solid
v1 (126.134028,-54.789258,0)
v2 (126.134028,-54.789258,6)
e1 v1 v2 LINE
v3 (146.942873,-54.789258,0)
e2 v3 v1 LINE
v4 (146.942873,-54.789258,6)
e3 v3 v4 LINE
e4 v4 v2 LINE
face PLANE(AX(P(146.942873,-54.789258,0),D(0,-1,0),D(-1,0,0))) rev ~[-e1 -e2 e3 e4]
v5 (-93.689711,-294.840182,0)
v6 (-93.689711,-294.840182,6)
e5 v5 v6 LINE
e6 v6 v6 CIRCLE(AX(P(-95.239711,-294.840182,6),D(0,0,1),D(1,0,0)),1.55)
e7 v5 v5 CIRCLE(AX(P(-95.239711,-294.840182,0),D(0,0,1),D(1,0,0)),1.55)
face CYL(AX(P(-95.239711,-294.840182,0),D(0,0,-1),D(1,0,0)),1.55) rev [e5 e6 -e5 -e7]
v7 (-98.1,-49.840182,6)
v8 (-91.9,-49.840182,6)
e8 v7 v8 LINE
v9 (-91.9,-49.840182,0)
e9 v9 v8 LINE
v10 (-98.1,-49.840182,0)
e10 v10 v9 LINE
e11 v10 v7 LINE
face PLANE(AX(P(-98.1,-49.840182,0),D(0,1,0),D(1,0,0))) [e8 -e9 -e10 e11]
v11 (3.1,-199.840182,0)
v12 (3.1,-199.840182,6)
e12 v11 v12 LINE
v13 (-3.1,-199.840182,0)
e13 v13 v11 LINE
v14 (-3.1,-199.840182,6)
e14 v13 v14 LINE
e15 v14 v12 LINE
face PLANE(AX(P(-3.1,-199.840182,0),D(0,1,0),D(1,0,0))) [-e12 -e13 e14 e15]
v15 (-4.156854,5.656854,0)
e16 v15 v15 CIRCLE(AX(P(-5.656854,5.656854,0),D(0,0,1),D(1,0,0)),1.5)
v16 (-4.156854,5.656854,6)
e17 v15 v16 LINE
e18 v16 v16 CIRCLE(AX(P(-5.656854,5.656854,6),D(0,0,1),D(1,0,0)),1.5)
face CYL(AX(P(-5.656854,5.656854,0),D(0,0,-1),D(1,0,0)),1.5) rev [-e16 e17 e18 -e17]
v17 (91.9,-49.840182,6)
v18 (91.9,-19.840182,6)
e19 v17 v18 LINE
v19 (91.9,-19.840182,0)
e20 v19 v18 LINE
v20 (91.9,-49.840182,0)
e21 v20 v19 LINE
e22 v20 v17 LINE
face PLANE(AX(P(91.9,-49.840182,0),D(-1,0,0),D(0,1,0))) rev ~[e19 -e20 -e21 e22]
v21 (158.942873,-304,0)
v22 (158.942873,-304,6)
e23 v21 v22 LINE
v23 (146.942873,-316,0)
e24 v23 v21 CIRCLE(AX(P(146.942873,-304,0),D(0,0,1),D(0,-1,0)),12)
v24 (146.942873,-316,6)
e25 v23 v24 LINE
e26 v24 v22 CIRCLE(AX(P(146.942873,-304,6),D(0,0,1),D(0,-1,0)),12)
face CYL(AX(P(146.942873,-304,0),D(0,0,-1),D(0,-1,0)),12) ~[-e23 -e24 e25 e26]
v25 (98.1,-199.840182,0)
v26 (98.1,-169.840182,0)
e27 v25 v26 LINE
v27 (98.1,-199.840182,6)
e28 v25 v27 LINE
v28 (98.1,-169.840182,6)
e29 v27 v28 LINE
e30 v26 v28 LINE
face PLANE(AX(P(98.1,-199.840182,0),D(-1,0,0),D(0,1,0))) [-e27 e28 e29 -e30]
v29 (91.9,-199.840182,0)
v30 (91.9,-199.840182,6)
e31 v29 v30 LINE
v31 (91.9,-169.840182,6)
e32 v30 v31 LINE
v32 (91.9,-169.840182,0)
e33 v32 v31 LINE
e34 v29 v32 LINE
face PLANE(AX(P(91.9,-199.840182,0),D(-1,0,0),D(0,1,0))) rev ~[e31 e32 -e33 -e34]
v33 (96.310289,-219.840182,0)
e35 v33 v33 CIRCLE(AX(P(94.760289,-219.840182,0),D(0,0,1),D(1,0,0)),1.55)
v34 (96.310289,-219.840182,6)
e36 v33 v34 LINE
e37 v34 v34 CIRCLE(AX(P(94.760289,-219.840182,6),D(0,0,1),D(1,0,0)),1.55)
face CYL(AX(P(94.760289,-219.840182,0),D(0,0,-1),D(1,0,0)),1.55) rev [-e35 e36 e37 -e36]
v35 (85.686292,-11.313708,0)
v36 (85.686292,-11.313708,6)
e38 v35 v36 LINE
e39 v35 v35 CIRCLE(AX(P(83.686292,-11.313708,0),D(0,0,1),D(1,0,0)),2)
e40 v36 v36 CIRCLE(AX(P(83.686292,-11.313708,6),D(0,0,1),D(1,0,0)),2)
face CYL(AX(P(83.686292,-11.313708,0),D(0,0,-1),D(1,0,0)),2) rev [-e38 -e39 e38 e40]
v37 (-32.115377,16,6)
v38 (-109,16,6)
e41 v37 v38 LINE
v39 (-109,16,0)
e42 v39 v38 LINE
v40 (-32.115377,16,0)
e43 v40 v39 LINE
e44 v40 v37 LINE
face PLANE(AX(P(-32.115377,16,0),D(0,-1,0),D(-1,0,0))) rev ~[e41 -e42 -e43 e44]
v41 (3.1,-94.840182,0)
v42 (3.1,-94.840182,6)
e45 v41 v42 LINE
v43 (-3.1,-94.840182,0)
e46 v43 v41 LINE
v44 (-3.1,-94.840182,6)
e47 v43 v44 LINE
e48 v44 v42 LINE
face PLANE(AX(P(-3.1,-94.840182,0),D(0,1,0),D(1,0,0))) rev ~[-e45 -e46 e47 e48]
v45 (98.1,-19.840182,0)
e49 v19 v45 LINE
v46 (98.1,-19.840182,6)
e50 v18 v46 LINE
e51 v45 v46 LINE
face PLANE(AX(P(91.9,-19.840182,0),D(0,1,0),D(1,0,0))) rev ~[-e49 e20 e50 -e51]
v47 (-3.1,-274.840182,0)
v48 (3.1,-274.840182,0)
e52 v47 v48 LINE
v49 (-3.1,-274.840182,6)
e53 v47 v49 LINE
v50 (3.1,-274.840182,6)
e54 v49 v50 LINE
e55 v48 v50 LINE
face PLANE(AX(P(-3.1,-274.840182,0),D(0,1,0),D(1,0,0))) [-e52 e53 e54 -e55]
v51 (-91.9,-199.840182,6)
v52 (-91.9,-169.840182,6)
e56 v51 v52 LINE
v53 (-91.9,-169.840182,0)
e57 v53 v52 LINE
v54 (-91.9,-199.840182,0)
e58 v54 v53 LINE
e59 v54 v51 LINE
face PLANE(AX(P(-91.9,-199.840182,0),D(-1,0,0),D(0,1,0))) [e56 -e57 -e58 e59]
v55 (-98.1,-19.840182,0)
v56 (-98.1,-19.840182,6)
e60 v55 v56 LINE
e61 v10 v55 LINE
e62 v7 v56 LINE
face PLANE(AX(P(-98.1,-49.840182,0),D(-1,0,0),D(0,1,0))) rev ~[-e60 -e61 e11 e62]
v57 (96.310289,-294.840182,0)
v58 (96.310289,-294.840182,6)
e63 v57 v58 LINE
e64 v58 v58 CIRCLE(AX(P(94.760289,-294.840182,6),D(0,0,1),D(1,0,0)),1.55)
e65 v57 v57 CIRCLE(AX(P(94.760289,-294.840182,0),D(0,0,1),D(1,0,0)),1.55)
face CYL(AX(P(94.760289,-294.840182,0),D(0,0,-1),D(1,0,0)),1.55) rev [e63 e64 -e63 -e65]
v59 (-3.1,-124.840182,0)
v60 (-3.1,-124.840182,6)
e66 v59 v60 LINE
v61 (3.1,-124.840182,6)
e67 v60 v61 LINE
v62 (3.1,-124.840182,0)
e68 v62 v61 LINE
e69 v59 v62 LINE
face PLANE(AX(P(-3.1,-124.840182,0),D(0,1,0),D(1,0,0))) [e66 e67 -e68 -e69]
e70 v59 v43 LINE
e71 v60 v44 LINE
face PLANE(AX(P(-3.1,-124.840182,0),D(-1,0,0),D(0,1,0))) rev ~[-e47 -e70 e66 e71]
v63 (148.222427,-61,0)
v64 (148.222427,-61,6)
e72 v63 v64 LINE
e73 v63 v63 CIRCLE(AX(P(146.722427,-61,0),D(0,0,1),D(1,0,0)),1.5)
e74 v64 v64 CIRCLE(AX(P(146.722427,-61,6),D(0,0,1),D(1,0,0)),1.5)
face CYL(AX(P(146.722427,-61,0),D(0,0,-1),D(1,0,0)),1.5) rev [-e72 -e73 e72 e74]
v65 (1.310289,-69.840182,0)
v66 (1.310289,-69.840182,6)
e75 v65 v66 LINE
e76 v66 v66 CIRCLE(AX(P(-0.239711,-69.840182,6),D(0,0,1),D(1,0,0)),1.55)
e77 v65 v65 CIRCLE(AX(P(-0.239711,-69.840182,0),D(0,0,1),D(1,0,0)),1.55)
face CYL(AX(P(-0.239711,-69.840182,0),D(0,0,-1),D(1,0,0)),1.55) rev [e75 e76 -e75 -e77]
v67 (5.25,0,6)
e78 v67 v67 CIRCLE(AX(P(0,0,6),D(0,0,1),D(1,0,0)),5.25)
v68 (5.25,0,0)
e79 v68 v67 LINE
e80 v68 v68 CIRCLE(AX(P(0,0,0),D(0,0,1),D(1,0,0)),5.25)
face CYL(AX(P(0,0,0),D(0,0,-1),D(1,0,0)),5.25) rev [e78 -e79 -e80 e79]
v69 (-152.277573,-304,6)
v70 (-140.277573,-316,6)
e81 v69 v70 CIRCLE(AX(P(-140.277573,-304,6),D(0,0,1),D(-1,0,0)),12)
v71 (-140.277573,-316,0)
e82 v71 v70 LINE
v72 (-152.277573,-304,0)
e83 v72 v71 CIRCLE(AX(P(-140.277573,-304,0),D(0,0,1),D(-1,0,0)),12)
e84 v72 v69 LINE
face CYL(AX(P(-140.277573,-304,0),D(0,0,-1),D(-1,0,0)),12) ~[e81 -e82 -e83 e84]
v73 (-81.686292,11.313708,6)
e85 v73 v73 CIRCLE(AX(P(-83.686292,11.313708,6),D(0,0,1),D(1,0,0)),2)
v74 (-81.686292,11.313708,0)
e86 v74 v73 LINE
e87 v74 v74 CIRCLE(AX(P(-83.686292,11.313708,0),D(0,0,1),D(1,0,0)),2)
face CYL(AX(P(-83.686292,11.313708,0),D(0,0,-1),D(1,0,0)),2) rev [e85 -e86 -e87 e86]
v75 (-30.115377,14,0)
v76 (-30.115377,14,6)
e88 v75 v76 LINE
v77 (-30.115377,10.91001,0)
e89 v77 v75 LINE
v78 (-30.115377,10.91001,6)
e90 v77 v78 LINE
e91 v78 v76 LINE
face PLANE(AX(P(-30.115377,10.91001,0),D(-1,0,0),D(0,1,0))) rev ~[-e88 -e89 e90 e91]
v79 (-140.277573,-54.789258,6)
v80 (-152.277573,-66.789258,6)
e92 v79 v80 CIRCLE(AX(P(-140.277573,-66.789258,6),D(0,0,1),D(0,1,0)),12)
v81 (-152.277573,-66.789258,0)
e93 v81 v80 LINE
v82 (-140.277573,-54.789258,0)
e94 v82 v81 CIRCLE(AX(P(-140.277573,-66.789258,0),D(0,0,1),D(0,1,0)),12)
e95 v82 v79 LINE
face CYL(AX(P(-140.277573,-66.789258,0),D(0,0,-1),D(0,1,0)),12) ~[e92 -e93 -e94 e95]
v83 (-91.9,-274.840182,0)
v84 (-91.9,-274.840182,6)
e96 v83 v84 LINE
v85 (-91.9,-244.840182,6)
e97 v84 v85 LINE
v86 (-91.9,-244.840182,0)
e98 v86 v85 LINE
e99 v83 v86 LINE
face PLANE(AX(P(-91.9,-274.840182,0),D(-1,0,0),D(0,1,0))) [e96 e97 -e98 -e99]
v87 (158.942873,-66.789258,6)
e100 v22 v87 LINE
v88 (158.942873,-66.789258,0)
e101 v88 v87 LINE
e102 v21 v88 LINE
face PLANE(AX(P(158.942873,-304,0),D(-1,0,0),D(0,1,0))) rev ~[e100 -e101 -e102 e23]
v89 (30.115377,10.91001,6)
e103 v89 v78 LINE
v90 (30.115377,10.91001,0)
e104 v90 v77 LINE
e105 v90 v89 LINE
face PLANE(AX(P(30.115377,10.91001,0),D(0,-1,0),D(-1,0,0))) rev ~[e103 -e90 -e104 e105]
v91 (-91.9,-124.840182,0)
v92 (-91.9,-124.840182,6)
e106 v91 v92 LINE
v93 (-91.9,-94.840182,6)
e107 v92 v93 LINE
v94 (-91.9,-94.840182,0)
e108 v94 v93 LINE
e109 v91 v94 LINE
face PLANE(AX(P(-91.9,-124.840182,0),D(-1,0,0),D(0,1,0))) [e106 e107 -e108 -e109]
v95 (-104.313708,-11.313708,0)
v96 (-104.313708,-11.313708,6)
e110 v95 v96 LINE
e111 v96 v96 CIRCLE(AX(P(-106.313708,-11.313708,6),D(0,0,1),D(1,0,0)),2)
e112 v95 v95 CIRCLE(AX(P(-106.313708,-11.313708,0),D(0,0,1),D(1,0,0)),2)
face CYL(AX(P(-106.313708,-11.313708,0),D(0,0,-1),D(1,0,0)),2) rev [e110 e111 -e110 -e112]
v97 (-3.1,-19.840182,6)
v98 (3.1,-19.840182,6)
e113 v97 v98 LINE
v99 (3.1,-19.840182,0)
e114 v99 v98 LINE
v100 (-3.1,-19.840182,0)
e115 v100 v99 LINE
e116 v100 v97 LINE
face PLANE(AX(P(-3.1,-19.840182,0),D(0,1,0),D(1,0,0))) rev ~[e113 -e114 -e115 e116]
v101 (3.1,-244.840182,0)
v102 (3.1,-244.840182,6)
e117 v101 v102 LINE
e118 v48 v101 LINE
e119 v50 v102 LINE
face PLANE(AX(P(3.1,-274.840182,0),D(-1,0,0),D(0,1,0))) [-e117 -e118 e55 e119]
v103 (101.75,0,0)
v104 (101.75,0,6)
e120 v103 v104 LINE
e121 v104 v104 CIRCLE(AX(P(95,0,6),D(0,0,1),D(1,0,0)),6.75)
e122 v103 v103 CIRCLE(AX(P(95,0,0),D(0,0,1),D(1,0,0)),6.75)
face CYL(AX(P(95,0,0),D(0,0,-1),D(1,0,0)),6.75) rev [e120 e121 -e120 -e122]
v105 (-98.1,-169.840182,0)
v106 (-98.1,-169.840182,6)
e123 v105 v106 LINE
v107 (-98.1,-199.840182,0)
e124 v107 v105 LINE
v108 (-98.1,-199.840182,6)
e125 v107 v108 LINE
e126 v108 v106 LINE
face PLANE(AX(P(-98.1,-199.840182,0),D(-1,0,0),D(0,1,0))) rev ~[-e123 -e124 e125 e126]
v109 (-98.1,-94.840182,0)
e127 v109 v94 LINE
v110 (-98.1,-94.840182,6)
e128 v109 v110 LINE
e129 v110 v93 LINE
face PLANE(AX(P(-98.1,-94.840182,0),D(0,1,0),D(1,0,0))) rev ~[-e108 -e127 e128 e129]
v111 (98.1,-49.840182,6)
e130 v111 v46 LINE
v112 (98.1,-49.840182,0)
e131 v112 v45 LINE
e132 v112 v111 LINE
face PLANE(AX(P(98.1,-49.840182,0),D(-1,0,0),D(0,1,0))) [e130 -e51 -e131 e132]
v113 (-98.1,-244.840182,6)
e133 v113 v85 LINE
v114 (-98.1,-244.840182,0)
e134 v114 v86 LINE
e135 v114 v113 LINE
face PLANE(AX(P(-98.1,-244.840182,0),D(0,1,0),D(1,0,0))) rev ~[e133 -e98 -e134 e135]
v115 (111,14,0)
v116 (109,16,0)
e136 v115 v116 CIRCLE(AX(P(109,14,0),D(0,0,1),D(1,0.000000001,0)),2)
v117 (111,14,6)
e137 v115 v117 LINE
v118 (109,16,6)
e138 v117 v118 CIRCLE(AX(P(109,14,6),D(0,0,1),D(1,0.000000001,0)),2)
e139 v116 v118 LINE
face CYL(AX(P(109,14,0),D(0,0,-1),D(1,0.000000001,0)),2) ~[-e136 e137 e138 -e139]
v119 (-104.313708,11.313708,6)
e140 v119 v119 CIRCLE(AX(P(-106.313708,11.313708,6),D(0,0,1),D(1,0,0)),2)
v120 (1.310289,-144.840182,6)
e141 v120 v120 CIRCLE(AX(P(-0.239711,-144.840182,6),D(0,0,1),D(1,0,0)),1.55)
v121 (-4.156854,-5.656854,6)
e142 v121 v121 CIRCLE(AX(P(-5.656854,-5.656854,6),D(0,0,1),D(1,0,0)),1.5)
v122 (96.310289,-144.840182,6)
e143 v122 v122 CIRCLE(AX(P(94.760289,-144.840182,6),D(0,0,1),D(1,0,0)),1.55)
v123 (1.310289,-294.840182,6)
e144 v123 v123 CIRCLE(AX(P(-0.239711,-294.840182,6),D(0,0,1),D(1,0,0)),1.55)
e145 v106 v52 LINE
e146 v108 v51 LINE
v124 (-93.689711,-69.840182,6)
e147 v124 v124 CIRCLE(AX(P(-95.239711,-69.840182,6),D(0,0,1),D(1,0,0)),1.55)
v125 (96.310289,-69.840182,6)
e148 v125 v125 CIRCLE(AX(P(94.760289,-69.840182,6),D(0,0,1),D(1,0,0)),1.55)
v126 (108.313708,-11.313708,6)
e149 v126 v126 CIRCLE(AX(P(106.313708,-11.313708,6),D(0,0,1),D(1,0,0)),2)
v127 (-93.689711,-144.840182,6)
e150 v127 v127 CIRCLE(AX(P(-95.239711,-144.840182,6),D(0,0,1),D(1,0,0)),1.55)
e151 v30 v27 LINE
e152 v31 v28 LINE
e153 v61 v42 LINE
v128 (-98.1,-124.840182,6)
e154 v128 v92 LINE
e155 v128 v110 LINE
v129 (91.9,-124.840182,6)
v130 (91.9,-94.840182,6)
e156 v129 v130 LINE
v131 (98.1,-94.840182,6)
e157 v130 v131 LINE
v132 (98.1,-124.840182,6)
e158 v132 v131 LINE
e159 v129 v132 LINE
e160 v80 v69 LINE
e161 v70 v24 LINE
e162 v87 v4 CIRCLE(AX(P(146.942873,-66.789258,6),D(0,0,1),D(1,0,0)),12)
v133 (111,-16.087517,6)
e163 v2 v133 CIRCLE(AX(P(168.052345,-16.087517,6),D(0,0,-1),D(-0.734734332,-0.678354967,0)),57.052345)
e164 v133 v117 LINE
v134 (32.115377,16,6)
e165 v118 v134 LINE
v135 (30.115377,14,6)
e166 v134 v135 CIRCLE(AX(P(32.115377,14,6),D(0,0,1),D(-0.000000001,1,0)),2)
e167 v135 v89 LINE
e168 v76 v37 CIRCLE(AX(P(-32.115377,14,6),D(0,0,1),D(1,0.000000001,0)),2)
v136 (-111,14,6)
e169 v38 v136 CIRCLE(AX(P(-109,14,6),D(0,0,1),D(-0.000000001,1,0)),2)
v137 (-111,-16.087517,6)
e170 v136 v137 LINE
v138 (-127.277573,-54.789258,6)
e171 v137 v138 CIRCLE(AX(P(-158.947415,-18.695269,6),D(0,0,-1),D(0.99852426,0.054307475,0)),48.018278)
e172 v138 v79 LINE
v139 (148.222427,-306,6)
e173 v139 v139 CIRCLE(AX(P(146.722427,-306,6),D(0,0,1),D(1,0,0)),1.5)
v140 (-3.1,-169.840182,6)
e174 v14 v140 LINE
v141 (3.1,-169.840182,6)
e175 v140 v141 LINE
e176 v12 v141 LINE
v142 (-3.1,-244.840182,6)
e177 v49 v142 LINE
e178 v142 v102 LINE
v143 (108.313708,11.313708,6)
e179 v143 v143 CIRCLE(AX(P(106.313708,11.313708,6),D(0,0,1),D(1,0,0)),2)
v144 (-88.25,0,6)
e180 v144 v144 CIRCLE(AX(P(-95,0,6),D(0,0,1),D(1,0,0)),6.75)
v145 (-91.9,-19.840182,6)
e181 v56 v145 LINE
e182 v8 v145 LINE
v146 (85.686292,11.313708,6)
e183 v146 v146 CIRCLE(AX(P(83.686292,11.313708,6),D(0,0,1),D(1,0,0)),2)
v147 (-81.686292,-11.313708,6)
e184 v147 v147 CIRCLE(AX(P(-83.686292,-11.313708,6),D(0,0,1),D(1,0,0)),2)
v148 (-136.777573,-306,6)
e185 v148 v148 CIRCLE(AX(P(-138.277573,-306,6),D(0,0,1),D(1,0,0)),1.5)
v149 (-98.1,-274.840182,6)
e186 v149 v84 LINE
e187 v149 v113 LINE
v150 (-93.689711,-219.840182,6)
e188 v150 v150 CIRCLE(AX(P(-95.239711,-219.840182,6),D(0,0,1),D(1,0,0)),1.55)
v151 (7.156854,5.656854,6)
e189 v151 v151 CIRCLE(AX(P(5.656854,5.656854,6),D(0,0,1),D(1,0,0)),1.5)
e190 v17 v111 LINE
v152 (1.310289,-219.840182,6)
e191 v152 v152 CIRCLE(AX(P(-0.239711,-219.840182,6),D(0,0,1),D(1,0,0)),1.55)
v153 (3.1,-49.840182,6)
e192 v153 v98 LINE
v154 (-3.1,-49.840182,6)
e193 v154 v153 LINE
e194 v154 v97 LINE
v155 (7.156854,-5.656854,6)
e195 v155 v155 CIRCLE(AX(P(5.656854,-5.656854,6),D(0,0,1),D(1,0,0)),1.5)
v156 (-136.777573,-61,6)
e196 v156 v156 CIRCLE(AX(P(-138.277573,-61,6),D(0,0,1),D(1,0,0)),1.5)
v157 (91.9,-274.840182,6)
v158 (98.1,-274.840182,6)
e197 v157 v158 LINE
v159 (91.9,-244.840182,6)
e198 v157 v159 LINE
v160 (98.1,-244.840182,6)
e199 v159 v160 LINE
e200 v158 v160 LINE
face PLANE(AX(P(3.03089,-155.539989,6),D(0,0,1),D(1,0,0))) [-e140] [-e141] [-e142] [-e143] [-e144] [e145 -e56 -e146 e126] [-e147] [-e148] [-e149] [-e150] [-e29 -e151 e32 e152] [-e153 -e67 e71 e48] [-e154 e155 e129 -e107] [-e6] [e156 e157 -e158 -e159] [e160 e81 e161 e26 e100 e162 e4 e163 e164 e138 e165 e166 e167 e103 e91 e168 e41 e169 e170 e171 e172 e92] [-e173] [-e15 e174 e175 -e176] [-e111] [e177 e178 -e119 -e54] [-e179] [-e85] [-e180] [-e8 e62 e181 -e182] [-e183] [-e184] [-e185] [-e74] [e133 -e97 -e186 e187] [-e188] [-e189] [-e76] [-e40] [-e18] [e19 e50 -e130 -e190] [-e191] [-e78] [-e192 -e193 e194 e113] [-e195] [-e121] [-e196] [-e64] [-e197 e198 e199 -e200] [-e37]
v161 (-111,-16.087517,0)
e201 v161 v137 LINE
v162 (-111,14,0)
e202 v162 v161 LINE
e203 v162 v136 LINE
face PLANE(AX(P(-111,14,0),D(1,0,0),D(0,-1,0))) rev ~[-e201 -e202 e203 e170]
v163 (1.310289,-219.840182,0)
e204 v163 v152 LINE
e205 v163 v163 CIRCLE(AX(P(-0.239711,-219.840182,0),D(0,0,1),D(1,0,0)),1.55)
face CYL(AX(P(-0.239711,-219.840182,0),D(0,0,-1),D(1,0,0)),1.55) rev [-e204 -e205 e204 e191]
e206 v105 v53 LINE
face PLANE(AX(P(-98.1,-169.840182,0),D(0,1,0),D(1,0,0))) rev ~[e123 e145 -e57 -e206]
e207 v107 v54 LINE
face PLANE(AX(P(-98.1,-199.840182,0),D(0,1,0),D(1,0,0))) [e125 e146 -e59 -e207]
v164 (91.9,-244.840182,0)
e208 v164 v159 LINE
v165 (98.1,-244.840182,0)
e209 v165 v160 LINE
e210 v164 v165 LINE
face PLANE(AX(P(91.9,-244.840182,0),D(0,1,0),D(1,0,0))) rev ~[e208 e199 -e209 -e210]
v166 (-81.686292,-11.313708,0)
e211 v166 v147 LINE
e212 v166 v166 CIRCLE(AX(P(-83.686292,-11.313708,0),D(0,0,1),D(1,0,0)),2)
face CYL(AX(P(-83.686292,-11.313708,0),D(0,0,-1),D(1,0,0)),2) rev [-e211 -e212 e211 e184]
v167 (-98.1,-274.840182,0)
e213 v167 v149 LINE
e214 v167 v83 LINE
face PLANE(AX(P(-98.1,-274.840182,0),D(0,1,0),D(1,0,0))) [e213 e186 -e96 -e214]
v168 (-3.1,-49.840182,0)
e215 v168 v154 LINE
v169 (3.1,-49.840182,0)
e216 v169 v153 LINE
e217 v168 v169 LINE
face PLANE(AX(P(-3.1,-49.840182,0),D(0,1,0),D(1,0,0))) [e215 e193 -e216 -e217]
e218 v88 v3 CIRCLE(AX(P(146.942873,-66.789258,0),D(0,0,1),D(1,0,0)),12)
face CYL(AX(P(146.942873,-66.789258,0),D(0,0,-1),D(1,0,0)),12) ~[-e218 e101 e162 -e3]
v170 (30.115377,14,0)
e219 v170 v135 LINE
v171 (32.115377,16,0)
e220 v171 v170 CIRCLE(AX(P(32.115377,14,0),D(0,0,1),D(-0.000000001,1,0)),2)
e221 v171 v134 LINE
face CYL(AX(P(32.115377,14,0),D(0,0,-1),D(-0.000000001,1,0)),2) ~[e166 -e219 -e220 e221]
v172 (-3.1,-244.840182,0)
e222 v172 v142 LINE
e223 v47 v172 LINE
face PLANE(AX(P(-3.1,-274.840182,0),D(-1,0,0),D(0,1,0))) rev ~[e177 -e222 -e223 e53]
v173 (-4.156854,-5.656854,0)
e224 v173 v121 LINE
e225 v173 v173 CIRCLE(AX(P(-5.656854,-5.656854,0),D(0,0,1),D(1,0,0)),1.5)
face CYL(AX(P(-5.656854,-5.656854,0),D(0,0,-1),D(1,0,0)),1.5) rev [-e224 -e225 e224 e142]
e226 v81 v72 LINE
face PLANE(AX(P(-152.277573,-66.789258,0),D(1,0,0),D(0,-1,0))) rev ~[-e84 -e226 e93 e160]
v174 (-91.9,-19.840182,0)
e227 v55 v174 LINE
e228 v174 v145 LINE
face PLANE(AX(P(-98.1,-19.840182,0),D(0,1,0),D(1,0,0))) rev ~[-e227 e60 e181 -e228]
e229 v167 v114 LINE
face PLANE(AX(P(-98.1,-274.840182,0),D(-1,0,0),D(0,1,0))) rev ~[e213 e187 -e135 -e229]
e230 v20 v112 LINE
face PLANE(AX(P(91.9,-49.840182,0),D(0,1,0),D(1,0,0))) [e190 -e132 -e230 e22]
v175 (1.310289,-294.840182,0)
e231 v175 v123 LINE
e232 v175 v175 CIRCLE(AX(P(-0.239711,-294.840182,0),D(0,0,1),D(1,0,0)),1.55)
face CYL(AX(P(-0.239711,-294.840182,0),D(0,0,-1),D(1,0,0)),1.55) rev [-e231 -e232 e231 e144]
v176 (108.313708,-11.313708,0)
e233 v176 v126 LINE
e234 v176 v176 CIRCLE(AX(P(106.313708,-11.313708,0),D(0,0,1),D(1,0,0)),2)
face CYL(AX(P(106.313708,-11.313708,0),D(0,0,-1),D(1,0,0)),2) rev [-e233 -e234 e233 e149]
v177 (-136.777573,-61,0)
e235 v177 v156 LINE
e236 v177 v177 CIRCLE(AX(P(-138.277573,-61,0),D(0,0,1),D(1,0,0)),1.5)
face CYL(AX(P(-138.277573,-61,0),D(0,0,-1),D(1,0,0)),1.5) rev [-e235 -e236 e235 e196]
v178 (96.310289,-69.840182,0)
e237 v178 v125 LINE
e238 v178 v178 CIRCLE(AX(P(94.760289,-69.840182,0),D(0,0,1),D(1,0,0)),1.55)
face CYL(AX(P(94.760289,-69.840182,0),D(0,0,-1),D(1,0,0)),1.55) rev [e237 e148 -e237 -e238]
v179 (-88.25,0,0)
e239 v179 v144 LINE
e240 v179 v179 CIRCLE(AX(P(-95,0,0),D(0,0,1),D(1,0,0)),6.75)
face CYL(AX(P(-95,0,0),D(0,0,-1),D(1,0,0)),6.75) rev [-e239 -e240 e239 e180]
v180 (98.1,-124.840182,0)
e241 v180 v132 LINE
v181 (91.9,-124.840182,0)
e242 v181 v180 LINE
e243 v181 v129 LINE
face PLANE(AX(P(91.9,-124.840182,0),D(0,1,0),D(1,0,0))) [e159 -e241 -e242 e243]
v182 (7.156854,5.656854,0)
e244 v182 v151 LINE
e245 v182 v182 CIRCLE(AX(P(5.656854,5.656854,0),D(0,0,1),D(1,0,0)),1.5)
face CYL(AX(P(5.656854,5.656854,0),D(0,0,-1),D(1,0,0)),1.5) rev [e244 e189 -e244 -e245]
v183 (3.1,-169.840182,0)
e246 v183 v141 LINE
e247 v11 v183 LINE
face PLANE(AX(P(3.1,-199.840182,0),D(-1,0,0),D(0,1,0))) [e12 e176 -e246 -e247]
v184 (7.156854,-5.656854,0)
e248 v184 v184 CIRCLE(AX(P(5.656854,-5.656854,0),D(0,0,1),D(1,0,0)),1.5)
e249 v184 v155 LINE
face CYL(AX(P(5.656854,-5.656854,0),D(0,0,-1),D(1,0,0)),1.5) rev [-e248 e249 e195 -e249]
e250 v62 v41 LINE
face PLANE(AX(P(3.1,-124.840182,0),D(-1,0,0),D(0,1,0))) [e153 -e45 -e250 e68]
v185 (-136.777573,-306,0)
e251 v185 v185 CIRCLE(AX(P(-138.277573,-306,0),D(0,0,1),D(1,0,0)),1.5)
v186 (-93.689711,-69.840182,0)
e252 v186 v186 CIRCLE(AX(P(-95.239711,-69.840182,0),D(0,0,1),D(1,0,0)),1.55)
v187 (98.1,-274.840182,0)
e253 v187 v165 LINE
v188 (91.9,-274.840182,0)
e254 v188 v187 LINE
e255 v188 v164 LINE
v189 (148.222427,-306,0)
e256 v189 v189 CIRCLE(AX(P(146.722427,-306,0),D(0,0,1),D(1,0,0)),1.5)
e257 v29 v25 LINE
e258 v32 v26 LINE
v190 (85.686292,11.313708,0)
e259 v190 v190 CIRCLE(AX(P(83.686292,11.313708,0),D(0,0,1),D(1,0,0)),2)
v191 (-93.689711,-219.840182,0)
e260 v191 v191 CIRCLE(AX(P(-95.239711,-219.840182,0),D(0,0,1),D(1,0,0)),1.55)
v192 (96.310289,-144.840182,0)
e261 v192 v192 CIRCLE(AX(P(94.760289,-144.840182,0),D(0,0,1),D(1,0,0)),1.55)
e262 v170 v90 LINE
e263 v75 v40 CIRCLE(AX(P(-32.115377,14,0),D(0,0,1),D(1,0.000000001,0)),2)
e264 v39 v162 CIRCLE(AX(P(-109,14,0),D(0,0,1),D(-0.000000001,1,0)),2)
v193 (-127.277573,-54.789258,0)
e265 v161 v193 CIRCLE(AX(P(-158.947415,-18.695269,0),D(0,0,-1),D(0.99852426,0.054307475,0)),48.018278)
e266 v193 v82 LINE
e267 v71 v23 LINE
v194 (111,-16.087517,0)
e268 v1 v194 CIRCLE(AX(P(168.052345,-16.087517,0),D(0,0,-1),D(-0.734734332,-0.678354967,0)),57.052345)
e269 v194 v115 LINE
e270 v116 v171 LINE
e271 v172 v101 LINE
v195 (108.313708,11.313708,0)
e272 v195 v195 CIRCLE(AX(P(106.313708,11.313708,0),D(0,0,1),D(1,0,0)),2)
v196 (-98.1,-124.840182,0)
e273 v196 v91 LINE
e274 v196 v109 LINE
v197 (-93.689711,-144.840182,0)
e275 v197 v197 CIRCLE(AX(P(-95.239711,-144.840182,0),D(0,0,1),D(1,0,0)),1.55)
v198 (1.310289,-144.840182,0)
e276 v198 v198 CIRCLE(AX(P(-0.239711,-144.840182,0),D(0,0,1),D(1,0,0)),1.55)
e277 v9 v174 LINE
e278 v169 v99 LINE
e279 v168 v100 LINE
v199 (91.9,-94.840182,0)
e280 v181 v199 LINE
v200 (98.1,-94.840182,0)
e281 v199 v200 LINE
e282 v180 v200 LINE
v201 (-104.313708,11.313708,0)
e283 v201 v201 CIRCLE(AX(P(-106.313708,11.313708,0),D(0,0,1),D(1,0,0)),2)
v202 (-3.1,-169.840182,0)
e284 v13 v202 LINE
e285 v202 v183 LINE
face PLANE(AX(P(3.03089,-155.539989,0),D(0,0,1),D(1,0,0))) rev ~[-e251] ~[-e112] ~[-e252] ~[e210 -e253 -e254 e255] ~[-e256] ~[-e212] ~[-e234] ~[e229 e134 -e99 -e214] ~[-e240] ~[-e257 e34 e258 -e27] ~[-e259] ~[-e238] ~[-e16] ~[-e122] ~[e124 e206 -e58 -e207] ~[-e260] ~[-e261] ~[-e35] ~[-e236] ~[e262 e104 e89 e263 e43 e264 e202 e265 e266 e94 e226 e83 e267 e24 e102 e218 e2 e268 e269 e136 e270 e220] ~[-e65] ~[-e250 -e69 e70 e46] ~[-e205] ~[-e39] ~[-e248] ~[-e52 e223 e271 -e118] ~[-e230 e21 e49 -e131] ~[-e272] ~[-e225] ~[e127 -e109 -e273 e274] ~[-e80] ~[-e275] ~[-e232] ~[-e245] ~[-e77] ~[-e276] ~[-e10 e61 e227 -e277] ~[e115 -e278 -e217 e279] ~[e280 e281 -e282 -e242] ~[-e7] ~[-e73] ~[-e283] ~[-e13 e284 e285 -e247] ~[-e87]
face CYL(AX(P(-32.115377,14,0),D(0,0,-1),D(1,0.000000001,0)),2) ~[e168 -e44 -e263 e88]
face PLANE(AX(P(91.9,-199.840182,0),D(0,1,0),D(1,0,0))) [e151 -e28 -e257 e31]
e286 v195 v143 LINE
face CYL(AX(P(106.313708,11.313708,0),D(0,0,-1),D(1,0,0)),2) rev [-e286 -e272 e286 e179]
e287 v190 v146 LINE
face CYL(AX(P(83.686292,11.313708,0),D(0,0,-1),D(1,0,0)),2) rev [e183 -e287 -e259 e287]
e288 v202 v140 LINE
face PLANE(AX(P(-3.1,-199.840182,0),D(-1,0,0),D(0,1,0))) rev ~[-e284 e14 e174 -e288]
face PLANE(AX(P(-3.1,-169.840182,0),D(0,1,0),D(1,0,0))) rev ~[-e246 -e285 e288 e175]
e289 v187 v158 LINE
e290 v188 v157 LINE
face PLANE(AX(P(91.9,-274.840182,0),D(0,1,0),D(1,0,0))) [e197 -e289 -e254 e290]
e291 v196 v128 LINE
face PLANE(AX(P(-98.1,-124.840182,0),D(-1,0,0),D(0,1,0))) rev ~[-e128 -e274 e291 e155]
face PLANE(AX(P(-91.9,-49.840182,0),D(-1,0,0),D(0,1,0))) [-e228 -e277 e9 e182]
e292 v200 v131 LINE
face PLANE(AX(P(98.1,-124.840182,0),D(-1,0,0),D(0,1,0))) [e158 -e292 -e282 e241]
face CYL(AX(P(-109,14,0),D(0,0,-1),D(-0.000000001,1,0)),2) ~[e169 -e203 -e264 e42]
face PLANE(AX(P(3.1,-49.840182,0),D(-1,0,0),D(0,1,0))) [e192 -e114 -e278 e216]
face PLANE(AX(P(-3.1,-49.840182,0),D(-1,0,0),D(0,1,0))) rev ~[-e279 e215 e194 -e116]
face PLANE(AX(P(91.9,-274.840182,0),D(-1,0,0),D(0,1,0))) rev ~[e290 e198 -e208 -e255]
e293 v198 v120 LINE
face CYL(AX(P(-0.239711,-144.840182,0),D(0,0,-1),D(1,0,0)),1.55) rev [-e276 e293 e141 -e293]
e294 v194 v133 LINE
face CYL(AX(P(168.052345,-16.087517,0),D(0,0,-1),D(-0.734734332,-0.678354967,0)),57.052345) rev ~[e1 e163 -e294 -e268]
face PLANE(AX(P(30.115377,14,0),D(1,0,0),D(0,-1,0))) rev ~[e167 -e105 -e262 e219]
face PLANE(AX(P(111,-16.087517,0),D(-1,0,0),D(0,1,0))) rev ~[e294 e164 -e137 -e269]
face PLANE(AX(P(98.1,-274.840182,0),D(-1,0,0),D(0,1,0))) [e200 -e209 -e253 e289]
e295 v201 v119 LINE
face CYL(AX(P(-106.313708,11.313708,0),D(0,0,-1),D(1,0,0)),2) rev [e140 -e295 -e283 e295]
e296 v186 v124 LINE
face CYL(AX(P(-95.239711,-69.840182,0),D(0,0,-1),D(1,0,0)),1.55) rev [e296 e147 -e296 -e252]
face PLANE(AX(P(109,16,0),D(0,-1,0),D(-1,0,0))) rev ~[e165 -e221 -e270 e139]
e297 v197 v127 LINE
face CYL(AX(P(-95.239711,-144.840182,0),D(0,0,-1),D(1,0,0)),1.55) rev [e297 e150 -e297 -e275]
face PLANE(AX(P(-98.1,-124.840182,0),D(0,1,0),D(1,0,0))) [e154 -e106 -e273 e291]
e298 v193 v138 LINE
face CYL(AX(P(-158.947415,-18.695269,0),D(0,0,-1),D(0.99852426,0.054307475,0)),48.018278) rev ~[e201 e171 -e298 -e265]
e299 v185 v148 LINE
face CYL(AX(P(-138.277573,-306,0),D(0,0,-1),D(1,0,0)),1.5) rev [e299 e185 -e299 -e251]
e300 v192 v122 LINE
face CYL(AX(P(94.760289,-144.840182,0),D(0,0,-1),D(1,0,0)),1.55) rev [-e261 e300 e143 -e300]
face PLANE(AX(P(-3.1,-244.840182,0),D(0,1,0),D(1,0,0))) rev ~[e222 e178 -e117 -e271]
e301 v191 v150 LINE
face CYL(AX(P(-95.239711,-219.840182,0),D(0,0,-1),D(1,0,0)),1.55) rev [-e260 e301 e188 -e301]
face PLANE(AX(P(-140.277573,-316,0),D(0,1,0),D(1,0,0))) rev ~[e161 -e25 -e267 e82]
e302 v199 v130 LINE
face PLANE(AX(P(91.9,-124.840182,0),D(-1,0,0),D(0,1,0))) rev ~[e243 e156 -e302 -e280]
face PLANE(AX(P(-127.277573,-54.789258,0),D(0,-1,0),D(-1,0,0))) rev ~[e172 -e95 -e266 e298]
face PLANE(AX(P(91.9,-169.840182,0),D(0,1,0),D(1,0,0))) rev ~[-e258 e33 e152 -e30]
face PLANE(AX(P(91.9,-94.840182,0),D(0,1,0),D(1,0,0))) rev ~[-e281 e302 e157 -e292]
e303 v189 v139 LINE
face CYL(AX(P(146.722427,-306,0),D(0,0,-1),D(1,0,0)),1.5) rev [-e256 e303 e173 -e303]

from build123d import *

# Parameters (mm, degrees)
CROQUIS1_R              = 1.5
CROQUIS1_R_2            = 1.55
CROQUIS1_W              = 6.2
CROQUIS1_H              = 30
CROQUIS1_R_3            = 2
CROQUIS1_R_4            = 6.75
CROQUIS1_R_5            = 5.25
SALIENTE_EXTRUIR1_DEPTH = 6


with BuildPart() as part:
    # Croquis1 → Saliente-Extruir1 (new body)
    with BuildSketch(Plane.XY):
        with BuildLine():
            Line((87.635637669, 16), (32.115377174, 16))
            ThreePointArc((32.115377174, 16), (30.701163612, 15.414213562), (30.115377174, 14))
            Line((30.115377174, 14), (30.115377174, 10.910010016))
            Line((30.115377174, 10.910010016), (-30.115377174, 10.910010016))
            Line((-30.115377174, 10.910010016), (-30.115377174, 14))
            ThreePointArc((-30.115377174, 14), (-30.701163612, 15.414213562), (-32.115377174, 16))
            Line((-32.115377174, 16), (-44.664398505, 16))
            Line((-44.664398505, 16), (-87.635637669, 16))
            Line((-87.635637669, 16), (-109, 16))
            ThreePointArc((-109, 16), (-110.414213562, 15.414213562), (-111, 14))
            Line((-111, 14), (-111, 0))
            Line((-111, 0), (-111, -16))
            Line((-111, -16), (-111, -16.087517131))
            ThreePointArc((-111, -16.087517131), (-114.684754838, -37.311709927), (-127.277573278, -54.789258433))
            Line((-127.277573278, -54.789258433), (-135.277573278, -54.789258433))
            Line((-135.277573278, -54.789258433), (-140.277573278, -54.789258433))
            ThreePointArc((-140.277573278, -54.789258433), (-148.762854653, -58.303977059), (-152.277573278, -66.789258433))
            Line((-152.277573278, -66.789258433), (-152.277573278, -304))
            ThreePointArc((-152.277573278, -304), (-148.762854653, -312.485281374), (-140.277573278, -316))
            Line((-140.277573278, -316), (-135.277573278, -316))
            Line((-135.277573278, -316), (-119.364295205, -316))
            Line((-119.364295205, -316), (-96, -316))
            Line((-96, -316), (-44.664398505, -316))
            Line((-44.664398505, -316), (119.364429455, -316))
            Line((119.364429455, -316), (130.295105026, -316))
            Line((130.295105026, -316), (146.942872896, -316))
            ThreePointArc((146.942872896, -316), (155.42815427, -312.485281374), (158.942872896, -304))
            Line((158.942872896, -304), (158.942872896, -70.858545673))
            Line((158.942872896, -70.858545673), (158.942872896, -66.789258433))
            ThreePointArc((158.942872896, -66.789258433), (155.42815427, -58.303977059), (146.942872896, -54.789258433))
            Line((146.942872896, -54.789258433), (126.134028278, -54.789258433))
            ThreePointArc((126.134028278, -54.789258433), (114.918041875, -36.865291264), (111, -16.087517131))
            Line((111, -16.087517131), (111, 14))
            ThreePointArc((111, 14), (110.414213562, 15.414213562), (109, 16))
            Line((109, 16), (87.635637669, 16))
        make_face()
        with Locations((-138.277573278, -306)):
            Circle(CROQUIS1_R, mode=Mode.SUBTRACT)
        with Locations((-95.239711316, -294.840181849)):
            Circle(CROQUIS1_R_2, mode=Mode.SUBTRACT)
        with Locations((-95, -259.840181849)):
            Rectangle(CROQUIS1_W, CROQUIS1_H, mode=Mode.SUBTRACT)
        with Locations((-0.239711316, -294.840181849)):
            Circle(CROQUIS1_R_2, mode=Mode.SUBTRACT)
        with Locations((0, -259.840181849)):
            Rectangle(CROQUIS1_W, CROQUIS1_H, mode=Mode.SUBTRACT)
        with Locations((-95.239711316, -219.840181849)):
            Circle(CROQUIS1_R_2, mode=Mode.SUBTRACT)
        with Locations((-95, -184.840181849)):
            Rectangle(CROQUIS1_W, CROQUIS1_H, mode=Mode.SUBTRACT)
        with Locations((-0.239711316, -219.840181849)):
            Circle(CROQUIS1_R_2, mode=Mode.SUBTRACT)
        with Locations((0, -184.840181849)):
            Rectangle(CROQUIS1_W, CROQUIS1_H, mode=Mode.SUBTRACT)
        with Locations((94.760288684, -294.840181849)):
            Circle(CROQUIS1_R_2, mode=Mode.SUBTRACT)
        with Locations((146.722426722, -306)):
            Circle(CROQUIS1_R, mode=Mode.SUBTRACT)
        with Locations((95, -259.840181849)):
            Rectangle(CROQUIS1_W, CROQUIS1_H, mode=Mode.SUBTRACT)
        with Locations((94.760288684, -219.840181849)):
            Circle(CROQUIS1_R_2, mode=Mode.SUBTRACT)
        with Locations((95, -184.840181849)):
            Rectangle(CROQUIS1_W, CROQUIS1_H, mode=Mode.SUBTRACT)
        with Locations((-95.239711316, -144.840181849)):
            Circle(CROQUIS1_R_2, mode=Mode.SUBTRACT)
        with Locations((-95, -109.840181849)):
            Rectangle(CROQUIS1_W, CROQUIS1_H, mode=Mode.SUBTRACT)
        with Locations((-95.239711316, -69.840181849)):
            Circle(CROQUIS1_R_2, mode=Mode.SUBTRACT)
        with Locations((-0.239711316, -144.840181849)):
            Circle(CROQUIS1_R_2, mode=Mode.SUBTRACT)
        with Locations((0, -109.840181849)):
            Rectangle(CROQUIS1_W, CROQUIS1_H, mode=Mode.SUBTRACT)
        with Locations((-0.239711316, -69.840181849)):
            Circle(CROQUIS1_R_2, mode=Mode.SUBTRACT)
        with Locations((-138.277573278, -61)):
            Circle(CROQUIS1_R, mode=Mode.SUBTRACT)
        with Locations((-95, -34.840181849)):
            Rectangle(CROQUIS1_W, CROQUIS1_H, mode=Mode.SUBTRACT)
        with Locations((-106.313708499, -11.313708499)):
            Circle(CROQUIS1_R_3, mode=Mode.SUBTRACT)
        with Locations((-83.686291501, -11.313708499)):
            Circle(CROQUIS1_R_3, mode=Mode.SUBTRACT)
        with Locations((-95, 0)):
            Circle(CROQUIS1_R_4, mode=Mode.SUBTRACT)
        with Locations((-106.313708499, 11.313708499)):
            Circle(CROQUIS1_R_3, mode=Mode.SUBTRACT)
        with Locations((-83.686291501, 11.313708499)):
            Circle(CROQUIS1_R_3, mode=Mode.SUBTRACT)
        with Locations((0, -34.840181849)):
            Rectangle(CROQUIS1_W, CROQUIS1_H, mode=Mode.SUBTRACT)
        with Locations((-5.656854249, -5.656854249)):
            Circle(CROQUIS1_R, mode=Mode.SUBTRACT)
        Circle(CROQUIS1_R_5, mode=Mode.SUBTRACT)
        with Locations((-5.656854249, 5.656854249)):
            Circle(CROQUIS1_R, mode=Mode.SUBTRACT)
        with Locations((94.760288684, -144.840181849)):
            Circle(CROQUIS1_R_2, mode=Mode.SUBTRACT)
        with Locations((95, -109.840181849)):
            Rectangle(CROQUIS1_W, CROQUIS1_H, mode=Mode.SUBTRACT)
        with Locations((94.760288684, -69.840181849)):
            Circle(CROQUIS1_R_2, mode=Mode.SUBTRACT)
        with Locations((5.656854249, -5.656854249)):
            Circle(CROQUIS1_R, mode=Mode.SUBTRACT)
        with Locations((5.656854249, 5.656854249)):
            Circle(CROQUIS1_R, mode=Mode.SUBTRACT)
        with Locations((95, -34.840181849)):
            Rectangle(CROQUIS1_W, CROQUIS1_H, mode=Mode.SUBTRACT)
        with Locations((146.722426722, -61)):
            Circle(CROQUIS1_R, mode=Mode.SUBTRACT)
        with Locations((83.686291501, -11.313708499)):
            Circle(CROQUIS1_R_3, mode=Mode.SUBTRACT)
        with Locations((106.313708499, -11.313708499)):
            Circle(CROQUIS1_R_3, mode=Mode.SUBTRACT)
        with Locations((95, 0)):
            Circle(CROQUIS1_R_4, mode=Mode.SUBTRACT)
        with Locations((83.686291501, 11.313708499)):
            Circle(CROQUIS1_R_3, mode=Mode.SUBTRACT)
        with Locations((106.313708499, 11.313708499)):
            Circle(CROQUIS1_R_3, mode=Mode.SUBTRACT)
    extrude(amount=SALIENTE_EXTRUIR1_DEPTH)


solid = part.part
